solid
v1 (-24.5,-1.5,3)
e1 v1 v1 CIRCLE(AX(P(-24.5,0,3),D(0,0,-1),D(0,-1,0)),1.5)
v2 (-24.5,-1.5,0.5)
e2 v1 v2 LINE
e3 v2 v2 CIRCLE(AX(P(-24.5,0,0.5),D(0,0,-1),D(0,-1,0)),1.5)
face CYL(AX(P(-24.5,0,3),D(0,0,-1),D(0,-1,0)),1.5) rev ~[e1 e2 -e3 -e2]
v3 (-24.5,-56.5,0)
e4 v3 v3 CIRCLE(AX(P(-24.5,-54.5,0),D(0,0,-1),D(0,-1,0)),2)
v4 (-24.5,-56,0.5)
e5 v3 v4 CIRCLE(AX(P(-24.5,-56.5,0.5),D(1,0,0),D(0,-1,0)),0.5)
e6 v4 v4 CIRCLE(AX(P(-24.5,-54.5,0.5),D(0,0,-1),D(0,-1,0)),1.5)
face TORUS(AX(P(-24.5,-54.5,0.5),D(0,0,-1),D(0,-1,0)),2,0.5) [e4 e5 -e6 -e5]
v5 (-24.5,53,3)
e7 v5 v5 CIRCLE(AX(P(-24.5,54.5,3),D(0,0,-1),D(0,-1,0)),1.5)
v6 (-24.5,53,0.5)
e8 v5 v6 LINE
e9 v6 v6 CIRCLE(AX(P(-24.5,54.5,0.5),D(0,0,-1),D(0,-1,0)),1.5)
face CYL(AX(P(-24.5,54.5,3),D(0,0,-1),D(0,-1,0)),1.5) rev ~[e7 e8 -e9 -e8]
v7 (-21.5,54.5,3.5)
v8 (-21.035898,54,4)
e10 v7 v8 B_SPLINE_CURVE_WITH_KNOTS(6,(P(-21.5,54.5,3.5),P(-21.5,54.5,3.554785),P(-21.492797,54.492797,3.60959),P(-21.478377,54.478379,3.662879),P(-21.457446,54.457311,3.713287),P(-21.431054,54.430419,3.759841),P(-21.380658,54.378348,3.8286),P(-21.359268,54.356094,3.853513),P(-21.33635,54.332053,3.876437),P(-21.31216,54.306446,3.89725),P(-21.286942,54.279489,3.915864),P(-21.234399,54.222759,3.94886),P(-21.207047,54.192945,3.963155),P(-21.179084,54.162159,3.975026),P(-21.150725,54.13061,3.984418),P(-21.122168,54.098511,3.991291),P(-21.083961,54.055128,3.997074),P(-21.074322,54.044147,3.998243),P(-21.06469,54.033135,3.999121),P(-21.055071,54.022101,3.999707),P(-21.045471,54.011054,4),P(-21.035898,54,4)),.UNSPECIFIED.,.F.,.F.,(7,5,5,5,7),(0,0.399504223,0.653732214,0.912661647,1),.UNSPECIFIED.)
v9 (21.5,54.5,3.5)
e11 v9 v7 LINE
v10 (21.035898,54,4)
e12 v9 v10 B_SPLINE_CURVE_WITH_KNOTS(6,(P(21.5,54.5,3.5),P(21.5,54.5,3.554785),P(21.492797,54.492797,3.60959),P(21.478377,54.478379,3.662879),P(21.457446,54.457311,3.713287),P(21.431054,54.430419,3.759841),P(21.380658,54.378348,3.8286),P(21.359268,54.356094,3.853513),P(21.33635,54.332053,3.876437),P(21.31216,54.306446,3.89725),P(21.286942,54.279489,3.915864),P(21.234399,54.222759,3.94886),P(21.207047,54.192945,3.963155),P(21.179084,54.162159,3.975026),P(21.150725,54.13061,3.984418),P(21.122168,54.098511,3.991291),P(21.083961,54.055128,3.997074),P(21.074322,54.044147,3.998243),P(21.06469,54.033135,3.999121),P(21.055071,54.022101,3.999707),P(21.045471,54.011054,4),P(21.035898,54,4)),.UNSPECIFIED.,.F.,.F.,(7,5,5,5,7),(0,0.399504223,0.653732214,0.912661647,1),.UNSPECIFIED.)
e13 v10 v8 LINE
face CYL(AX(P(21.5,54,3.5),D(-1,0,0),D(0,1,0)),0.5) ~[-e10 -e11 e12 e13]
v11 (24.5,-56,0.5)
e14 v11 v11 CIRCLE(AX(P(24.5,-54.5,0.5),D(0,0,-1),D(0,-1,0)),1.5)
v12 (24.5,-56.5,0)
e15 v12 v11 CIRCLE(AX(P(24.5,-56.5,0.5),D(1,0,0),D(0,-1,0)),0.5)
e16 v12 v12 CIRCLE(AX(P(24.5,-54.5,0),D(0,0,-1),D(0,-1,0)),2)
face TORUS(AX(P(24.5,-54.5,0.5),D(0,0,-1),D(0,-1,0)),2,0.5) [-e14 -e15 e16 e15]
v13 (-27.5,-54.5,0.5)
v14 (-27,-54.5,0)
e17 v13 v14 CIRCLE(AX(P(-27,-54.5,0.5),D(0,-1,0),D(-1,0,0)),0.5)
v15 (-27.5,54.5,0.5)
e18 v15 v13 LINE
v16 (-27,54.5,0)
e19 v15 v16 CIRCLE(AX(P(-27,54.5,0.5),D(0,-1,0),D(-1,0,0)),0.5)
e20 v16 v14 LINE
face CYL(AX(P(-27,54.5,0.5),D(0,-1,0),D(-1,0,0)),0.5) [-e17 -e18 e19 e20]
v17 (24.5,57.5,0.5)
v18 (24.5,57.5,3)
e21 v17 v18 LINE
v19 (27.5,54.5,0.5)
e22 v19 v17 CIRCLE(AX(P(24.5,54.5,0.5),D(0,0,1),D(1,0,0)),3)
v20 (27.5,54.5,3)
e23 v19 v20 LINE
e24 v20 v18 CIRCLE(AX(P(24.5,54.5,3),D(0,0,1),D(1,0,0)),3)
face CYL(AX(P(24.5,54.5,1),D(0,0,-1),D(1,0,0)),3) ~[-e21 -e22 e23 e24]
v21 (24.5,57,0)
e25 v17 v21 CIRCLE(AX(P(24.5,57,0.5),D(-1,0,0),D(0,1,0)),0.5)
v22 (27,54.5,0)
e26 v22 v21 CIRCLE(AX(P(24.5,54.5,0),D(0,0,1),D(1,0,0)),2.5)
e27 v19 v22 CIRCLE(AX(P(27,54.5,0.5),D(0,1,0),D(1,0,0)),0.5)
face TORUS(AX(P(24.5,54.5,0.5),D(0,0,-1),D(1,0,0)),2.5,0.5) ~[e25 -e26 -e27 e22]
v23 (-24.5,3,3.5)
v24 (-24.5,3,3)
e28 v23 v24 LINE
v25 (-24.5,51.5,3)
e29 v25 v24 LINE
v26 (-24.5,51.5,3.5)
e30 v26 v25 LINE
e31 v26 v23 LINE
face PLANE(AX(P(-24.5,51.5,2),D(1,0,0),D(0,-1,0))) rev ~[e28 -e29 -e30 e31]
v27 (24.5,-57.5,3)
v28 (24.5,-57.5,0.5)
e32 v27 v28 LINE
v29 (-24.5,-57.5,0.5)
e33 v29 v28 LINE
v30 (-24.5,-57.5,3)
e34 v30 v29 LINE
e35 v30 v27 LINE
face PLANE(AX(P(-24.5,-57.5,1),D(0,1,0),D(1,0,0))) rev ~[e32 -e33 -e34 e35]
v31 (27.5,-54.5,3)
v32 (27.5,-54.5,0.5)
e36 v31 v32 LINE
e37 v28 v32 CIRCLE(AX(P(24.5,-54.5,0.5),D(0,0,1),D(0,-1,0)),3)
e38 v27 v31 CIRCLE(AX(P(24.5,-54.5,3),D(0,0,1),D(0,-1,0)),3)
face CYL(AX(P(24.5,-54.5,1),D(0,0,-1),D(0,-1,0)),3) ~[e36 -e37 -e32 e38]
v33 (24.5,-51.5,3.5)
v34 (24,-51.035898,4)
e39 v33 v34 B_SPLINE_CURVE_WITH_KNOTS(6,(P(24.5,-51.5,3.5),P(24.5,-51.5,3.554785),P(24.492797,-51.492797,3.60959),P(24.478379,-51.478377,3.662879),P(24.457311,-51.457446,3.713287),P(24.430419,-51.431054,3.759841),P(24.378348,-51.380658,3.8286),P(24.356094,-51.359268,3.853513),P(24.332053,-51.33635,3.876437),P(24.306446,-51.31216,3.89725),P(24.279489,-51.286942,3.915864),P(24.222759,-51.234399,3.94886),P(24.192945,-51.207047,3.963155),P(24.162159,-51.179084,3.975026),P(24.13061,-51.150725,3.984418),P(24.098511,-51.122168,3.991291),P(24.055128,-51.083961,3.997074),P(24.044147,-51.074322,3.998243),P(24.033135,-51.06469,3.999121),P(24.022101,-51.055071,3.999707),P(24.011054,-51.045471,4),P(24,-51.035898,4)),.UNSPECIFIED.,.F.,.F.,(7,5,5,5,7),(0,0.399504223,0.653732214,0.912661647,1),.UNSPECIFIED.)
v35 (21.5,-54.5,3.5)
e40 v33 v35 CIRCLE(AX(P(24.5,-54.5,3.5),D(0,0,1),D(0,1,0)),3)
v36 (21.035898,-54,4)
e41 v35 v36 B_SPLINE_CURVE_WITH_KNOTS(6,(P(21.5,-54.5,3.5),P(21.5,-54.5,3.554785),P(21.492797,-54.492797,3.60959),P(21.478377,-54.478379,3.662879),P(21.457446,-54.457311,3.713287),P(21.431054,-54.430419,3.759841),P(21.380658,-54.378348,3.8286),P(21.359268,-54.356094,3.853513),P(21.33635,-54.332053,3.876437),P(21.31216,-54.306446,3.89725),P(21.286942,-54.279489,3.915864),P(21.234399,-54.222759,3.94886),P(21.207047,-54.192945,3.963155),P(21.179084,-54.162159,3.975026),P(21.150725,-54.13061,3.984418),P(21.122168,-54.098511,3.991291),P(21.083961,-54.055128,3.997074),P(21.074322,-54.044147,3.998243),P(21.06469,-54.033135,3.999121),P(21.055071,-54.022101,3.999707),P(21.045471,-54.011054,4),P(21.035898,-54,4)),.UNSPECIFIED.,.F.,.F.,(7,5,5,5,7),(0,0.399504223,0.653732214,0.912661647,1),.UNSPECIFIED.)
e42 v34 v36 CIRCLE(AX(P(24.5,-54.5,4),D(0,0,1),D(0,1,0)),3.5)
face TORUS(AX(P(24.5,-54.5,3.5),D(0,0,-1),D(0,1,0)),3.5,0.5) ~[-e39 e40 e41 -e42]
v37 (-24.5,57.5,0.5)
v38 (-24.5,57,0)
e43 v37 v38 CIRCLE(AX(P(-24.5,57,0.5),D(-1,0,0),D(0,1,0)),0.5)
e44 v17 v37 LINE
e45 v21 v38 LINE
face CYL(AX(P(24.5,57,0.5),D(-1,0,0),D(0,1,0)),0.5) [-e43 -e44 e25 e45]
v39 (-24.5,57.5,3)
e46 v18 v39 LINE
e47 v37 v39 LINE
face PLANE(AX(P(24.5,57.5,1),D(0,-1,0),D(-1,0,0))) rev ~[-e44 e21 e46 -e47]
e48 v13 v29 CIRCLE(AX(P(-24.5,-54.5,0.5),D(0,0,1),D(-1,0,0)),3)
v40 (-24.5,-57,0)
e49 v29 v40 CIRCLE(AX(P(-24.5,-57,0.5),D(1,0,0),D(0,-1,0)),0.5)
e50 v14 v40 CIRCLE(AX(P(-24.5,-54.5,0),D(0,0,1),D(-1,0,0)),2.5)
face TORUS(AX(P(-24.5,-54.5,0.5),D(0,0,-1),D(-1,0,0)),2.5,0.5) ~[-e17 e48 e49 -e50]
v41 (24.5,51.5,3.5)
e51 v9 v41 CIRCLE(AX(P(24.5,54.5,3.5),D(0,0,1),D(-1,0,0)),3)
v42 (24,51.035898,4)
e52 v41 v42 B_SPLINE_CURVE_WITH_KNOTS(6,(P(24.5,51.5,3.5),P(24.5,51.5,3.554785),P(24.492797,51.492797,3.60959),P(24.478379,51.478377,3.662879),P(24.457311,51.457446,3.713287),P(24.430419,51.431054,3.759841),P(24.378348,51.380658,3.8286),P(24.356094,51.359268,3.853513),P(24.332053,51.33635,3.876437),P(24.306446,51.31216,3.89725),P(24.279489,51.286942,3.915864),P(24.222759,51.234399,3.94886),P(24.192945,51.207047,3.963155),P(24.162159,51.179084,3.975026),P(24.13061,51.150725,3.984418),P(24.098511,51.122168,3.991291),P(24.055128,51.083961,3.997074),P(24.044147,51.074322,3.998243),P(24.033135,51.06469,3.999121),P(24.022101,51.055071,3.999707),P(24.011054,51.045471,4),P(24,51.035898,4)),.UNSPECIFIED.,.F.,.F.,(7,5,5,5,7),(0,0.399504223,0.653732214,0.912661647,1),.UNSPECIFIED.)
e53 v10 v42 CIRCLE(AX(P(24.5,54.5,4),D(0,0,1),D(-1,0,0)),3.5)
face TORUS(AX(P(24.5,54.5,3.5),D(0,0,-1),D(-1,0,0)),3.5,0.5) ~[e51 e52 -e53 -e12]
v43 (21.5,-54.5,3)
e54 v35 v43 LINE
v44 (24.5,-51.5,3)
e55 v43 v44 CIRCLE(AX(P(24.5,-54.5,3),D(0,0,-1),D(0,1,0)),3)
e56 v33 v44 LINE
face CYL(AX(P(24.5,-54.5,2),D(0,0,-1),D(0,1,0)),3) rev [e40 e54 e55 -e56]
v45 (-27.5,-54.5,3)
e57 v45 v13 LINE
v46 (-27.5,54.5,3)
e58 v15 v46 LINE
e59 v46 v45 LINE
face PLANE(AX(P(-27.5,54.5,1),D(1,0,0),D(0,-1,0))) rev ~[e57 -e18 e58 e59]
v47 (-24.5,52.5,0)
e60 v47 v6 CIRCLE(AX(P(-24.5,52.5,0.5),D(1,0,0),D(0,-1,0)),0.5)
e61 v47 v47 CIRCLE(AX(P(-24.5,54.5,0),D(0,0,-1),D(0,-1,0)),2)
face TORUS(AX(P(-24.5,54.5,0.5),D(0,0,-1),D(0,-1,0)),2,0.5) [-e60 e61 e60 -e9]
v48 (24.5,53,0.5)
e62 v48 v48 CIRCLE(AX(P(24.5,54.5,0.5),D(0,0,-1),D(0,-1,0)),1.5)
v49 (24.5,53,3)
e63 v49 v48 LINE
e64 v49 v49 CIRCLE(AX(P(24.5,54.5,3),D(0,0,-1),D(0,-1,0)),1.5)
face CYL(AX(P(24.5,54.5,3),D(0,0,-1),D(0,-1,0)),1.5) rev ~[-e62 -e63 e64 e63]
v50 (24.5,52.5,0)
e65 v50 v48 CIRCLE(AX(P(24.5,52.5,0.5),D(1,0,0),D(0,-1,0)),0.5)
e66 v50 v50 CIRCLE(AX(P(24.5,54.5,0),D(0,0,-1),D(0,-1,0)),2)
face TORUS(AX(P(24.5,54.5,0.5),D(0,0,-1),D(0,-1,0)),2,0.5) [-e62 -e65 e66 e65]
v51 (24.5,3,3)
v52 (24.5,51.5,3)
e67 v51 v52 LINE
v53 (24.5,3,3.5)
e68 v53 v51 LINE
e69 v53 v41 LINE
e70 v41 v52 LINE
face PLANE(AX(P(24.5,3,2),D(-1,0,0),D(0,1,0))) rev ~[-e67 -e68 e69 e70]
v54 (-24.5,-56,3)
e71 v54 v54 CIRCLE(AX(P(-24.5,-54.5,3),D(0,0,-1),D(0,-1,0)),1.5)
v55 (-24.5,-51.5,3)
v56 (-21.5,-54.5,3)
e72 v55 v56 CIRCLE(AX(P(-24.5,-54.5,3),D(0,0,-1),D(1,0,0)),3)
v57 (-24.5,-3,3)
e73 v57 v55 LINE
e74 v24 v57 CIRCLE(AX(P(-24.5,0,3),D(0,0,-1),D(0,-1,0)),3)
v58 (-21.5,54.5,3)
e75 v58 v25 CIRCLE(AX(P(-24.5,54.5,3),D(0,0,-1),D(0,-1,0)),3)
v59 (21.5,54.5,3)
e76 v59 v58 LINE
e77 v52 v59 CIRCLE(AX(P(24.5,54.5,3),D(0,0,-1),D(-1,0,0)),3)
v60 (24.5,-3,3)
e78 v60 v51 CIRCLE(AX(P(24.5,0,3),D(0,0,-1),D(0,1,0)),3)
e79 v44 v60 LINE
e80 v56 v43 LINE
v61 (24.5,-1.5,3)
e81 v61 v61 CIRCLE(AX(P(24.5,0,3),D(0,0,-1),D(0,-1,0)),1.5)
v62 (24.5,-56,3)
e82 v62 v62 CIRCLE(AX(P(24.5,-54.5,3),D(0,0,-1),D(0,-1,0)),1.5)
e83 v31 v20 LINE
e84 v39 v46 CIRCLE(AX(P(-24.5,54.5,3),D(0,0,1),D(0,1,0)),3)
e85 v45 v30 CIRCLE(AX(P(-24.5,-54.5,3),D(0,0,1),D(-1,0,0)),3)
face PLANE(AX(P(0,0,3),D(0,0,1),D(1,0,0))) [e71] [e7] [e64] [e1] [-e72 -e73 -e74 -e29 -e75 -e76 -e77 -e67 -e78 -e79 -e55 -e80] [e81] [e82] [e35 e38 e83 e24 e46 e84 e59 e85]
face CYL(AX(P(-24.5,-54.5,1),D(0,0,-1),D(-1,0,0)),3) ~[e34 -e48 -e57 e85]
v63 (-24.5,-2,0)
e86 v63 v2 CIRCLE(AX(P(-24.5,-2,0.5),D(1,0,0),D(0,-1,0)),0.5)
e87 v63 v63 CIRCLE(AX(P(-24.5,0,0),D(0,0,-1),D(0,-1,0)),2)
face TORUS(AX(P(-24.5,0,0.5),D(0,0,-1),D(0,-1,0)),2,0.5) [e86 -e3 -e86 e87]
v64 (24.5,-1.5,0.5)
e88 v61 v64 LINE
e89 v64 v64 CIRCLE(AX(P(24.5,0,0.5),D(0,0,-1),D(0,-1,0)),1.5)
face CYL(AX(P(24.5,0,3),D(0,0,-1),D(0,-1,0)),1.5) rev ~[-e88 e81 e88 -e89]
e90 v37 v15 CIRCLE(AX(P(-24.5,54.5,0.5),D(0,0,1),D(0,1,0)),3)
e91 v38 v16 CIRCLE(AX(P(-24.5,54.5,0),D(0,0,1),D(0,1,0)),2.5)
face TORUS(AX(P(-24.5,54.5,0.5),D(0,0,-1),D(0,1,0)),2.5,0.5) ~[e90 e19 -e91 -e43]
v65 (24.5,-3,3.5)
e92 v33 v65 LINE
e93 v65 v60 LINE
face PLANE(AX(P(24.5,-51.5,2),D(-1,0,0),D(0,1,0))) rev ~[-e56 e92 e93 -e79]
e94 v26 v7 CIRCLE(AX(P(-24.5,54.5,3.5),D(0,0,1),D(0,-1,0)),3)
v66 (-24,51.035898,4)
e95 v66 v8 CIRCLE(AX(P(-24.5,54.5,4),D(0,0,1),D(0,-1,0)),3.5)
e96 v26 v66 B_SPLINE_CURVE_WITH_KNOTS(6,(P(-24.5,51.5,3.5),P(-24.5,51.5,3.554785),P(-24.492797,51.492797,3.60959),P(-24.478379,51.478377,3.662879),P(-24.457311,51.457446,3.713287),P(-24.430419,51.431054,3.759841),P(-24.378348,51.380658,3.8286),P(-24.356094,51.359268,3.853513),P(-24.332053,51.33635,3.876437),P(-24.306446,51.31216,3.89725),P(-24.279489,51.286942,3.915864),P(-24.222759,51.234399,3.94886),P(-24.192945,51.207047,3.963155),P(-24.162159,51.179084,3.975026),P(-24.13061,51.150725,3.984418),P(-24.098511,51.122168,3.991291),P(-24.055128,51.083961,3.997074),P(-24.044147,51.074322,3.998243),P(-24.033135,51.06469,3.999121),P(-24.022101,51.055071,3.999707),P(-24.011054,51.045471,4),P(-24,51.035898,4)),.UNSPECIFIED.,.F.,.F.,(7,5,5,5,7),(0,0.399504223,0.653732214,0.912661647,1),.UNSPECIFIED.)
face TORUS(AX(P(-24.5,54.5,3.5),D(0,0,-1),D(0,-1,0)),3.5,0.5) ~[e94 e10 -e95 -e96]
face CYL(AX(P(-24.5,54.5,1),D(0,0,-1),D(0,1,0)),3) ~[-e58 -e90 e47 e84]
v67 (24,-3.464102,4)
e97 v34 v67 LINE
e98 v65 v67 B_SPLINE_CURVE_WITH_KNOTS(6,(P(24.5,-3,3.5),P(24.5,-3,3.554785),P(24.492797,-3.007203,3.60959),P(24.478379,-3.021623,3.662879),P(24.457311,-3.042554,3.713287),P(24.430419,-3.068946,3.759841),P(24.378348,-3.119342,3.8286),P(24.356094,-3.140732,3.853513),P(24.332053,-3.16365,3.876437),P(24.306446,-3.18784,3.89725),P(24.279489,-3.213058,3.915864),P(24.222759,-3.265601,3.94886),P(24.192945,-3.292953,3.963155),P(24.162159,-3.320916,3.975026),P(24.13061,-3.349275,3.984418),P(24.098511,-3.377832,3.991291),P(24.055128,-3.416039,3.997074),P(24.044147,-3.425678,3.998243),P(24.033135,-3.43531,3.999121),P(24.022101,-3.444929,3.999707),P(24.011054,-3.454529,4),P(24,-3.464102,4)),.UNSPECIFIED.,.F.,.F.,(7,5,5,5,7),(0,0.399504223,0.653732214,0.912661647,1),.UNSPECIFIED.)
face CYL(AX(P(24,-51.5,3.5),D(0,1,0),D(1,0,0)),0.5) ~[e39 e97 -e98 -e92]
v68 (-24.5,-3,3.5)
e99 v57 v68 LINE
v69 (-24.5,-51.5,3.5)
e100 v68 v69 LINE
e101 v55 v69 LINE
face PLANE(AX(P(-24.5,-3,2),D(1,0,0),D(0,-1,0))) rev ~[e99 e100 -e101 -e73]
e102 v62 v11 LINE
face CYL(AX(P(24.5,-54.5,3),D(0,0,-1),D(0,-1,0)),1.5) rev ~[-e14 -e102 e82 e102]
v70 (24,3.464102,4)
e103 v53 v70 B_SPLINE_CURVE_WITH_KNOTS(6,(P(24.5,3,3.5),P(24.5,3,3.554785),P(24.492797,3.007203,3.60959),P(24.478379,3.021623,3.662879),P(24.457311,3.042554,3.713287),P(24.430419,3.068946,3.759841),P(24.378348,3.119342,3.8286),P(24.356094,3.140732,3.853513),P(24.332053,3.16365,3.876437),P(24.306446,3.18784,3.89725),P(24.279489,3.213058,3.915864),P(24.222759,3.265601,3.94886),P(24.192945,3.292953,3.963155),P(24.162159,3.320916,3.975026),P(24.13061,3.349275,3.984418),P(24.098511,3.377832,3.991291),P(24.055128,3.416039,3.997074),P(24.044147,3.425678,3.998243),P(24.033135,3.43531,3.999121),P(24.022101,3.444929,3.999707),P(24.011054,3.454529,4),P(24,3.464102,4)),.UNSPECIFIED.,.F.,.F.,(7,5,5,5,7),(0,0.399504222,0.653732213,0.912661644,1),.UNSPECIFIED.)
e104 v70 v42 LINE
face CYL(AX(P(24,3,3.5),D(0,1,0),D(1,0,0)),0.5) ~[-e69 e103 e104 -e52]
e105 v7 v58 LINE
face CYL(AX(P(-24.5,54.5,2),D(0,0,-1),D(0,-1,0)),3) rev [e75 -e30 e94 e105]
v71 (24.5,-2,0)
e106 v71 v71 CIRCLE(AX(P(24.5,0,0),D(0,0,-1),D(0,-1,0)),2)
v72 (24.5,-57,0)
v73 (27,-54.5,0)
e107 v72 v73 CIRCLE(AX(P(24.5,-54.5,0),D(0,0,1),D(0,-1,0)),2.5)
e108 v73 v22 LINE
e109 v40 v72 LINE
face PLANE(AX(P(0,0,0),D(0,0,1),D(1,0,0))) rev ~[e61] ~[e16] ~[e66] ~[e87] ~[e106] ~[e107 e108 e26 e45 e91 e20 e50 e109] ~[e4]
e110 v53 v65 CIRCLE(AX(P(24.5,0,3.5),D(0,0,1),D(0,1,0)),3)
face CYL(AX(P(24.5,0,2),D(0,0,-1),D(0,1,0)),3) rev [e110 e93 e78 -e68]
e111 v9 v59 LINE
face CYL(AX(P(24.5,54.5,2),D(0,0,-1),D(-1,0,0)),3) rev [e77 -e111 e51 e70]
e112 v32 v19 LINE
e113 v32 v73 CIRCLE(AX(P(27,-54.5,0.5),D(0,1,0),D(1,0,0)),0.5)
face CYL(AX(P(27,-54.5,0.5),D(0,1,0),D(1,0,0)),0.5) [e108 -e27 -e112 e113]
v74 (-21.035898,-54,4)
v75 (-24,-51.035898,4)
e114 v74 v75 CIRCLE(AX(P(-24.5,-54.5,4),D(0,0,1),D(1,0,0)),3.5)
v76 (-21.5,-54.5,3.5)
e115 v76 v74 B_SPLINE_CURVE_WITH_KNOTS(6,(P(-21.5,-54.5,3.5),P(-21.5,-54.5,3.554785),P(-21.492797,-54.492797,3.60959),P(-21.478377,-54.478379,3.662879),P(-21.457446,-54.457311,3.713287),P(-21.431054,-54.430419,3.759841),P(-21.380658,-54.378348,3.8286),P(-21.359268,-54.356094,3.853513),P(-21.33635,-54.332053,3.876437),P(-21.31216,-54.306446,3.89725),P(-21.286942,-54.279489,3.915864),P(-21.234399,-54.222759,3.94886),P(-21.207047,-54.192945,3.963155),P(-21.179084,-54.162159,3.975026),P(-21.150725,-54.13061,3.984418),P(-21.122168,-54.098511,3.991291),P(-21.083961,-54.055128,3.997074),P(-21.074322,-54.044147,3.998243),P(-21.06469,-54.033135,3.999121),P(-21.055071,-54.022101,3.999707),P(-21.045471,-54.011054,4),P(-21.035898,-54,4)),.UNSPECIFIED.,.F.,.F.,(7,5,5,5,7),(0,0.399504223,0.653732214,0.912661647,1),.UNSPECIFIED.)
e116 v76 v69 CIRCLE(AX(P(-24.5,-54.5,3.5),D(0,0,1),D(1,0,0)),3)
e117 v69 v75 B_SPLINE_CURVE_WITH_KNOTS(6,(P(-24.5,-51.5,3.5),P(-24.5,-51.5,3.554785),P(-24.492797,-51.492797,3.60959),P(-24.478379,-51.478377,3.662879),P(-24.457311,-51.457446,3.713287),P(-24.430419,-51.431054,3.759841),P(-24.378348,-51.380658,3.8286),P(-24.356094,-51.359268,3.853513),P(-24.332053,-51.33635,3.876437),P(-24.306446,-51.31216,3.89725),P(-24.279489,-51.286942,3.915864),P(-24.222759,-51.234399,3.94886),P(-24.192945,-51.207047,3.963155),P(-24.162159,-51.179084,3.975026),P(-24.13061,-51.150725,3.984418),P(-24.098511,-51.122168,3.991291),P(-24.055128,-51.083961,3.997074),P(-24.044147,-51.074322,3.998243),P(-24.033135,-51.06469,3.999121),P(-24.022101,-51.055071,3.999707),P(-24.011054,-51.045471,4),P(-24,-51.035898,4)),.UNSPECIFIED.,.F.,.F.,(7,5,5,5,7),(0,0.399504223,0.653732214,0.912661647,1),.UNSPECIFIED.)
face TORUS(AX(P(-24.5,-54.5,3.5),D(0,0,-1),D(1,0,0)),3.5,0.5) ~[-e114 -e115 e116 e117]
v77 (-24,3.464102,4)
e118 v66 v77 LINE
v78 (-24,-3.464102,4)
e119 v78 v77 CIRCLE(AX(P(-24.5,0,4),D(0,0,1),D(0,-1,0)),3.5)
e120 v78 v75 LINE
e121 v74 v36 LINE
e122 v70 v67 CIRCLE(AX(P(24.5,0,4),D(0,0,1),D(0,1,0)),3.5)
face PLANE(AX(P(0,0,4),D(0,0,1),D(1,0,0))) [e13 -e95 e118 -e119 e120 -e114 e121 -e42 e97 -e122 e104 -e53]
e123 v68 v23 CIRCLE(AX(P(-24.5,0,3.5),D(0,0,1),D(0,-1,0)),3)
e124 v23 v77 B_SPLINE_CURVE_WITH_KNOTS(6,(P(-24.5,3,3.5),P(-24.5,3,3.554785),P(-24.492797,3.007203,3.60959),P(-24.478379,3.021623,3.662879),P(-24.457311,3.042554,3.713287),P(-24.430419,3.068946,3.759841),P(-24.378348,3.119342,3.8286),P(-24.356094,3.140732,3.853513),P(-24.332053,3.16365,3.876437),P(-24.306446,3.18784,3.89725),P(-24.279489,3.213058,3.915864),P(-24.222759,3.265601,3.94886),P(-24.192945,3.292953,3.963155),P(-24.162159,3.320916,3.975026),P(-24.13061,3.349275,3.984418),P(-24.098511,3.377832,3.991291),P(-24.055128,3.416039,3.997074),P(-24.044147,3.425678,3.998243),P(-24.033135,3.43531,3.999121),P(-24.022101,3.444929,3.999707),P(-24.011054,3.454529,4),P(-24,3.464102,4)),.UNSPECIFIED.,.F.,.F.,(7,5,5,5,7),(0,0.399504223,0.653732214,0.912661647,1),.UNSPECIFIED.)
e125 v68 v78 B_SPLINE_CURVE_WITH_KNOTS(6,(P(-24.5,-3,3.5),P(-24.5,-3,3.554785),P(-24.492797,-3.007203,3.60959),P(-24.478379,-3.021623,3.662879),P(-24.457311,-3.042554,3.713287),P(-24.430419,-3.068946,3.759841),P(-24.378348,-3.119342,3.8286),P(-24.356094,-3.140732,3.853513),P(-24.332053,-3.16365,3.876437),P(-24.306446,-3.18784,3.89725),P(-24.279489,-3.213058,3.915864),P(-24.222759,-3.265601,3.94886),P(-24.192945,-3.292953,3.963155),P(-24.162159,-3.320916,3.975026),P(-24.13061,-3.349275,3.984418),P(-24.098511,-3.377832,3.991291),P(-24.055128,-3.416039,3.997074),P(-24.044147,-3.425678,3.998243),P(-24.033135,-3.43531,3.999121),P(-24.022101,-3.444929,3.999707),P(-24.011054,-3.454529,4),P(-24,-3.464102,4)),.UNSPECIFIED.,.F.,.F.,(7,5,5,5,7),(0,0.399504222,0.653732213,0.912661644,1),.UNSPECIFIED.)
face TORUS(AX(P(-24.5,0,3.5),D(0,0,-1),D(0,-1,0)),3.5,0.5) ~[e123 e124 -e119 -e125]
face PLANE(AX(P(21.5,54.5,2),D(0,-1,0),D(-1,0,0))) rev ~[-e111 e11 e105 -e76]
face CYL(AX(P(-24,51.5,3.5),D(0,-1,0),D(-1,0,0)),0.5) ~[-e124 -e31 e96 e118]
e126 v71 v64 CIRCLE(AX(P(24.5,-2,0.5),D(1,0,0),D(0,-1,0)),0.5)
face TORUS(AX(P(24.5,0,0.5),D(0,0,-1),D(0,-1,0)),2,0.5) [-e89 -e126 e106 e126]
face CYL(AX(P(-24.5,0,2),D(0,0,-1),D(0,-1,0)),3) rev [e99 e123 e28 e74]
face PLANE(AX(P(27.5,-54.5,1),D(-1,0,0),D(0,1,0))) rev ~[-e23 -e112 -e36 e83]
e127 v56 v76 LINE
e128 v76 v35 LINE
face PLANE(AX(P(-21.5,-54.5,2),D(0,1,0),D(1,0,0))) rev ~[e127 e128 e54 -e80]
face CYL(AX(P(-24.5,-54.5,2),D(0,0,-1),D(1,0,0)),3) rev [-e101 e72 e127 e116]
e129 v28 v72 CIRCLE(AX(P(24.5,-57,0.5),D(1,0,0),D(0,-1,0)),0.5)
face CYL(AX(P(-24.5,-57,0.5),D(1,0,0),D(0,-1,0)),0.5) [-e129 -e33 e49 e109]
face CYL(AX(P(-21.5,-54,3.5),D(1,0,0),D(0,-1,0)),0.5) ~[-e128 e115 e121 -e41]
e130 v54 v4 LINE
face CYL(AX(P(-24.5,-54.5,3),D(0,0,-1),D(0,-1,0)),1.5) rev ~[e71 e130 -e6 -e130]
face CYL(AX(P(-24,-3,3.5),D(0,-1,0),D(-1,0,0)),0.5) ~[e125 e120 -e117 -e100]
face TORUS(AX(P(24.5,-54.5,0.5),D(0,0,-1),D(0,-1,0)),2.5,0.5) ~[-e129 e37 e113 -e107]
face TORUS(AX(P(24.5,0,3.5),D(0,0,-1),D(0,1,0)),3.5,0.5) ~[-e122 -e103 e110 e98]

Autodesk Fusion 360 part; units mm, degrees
sketch "Boceto1" plane through (0, 0, 0) normal (0, 0, 1) x (1, 0, 0)
  circle A0 centre (24.5, 54.5) radius 1.5
  arc A1 (27.5, 54.5) -> (24.5, 57.5) centre (24.5, 54.5) ccw
  arc A2 (-24.5, -3) -> (-24.5, 3) centre (-24.5, 0) ccw
  line L0 (27.5, -54.5) -> (27.5, 54.5)
  circle A3 centre (-24.5, 0) radius 1.5
  arc A4 (24.5, -57.5) -> (27.5, -54.5) centre (24.5, -54.5) ccw
  line L1 (-24.5, 51.5) -> (-24.5, 3)
  line L2 (21.5, 54.5) -> (-21.5, 54.5)
  arc A5 (24.5, 3) -> (24.5, -3) centre (24.5, 0) ccw
  arc A6 (-27.5, -54.5) -> (-24.5, -57.5) centre (-24.5, -54.5) ccw
  arc A7 (21.5, 54.5) -> (24.5, 51.5) centre (24.5, 54.5) ccw
  line L3 (24.5, 3) -> (24.5, 51.5)
  arc A8 (-27.5, -54.5) -> (-24.5, -57.5) centre (-24.5, -54.5) ccw
  arc A9 (-21.5, -54.5) -> (-24.5, -51.5) centre (-24.5, -54.5) ccw
  arc A10 (24.5, -51.5) -> (21.5, -54.5) centre (24.5, -54.5) ccw
  arc A11 (-24.5, 57.5) -> (-27.5, 54.5) centre (-24.5, 54.5) ccw
  line L4 (-24.5, -57.5) -> (24.5, -57.5)
  circle A12 centre (-24.5, 54.5) radius 1.5
  arc A13 (-24.5, 51.5) -> (-21.5, 54.5) centre (-24.5, 54.5) ccw
  arc A14 (27.5, 54.5) -> (24.5, 57.5) centre (24.5, 54.5) ccw
  arc A15 (24.5, -57.5) -> (27.5, -54.5) centre (24.5, -54.5) ccw
  line L5 (27.5, -57.5) -> (26.9159, -56.2786) construction
  circle A16 centre (24.5, 0) radius 1.5
  circle A17 centre (24.5, -54.5) radius 1.5
  line L6 (-21.5, -54.5) -> (21.5, -54.5)
  line L7 (24.5, 57.5) -> (-24.5, 57.5)
  circle A18 centre (-24.5, -54.5) radius 1.5
  arc A19 (-24.5, 57.5) -> (-27.5, 54.5) centre (-24.5, 54.5) ccw
  line L8 (-24.5, -3) -> (-24.5, -51.5)
  line L9 (-27.5, 54.5) -> (-27.5, -54.5)
  line L10 (-27.5, -57.5) -> (-26.9159, -56.2786) construction
  line L11 (24.5, -51.5) -> (24.5, -3)
  dimension "d1" = 3
  dimension "d2" = 3
  dimension "d3" = 3
  dimension "d4" = 3
  dimension "d5" = 6
  dimension "d6" = 6
  dimension "d7" = 6
  dimension "d8" = 6
  dimension "d9" = 3
  dimension "d10" = 3
  dimension "d11" = 3
  dimension "d12" = 3
  dimension "d13" = 6
  dimension "d14" = 3
  dimension "d15" = 6
  dimension "d16" = 3
extrude "Extruir1" add sketch "Boceto1" along normal blind 2 contours A2 L1 L2 A5 A7 L3 A9 A10 A13 L6 L8 L11
extrude "Extruir2" add sketch "Boceto1" along normal blind 1 contours A0 | A1 L0 A4 A6 A8 A11 L4 A14 A15 L7 A19 L9 | A2 L1 L2 A5 A7 L3 A9 A10 A13 L6 L8 L11 | A3 | A12 | A16 | A17 | A18
extrude "Extruir3" add 1 faces at (-7.4865, 35.5549, 2) along direction (0, 0, 1) blind 3
extrude "Extruir4" add 1 faces at (26.5, 1, 1) along direction (0, 0, 1) blind 2
hole "Agujero1" at (-24.5, 0, 3) direction (0, 0, -1) diameter 3 depth 5 tip angle 180
hole "Agujero2" at (24.5, 0, 3) direction (0, 0, -1) diameter 3 depth 5 tip angle 180
hole "Agujero3" at (24.5, 54.5, 3) direction (0, 0, -1) diameter 3 depth 5 tip angle 180
hole "Agujero4" at (-24.5, 54.5, 3) direction (0, 0, -1) diameter 3 depth 5 tip angle 180
hole "Agujero5" at (-24.5, -54.5, 3) direction (0, 0, -1) diameter 3 depth 5 tip angle 180
hole "Agujero6" at (24.5, -54.5, 3) direction (0, 0, -1) diameter 3 depth 5 tip angle 180
extrude "Extruir5" cut 1 faces at (-7.4865, 35.5549, 5) along direction (0, 0, -1) blind 1
fillet "Empalme1" radius 0.5 1 faces at (-7.8207, -18.5837, 0)
fillet "Empalme2" radius 0.5 1 faces at (-7.4865, 35.5549, 4)
